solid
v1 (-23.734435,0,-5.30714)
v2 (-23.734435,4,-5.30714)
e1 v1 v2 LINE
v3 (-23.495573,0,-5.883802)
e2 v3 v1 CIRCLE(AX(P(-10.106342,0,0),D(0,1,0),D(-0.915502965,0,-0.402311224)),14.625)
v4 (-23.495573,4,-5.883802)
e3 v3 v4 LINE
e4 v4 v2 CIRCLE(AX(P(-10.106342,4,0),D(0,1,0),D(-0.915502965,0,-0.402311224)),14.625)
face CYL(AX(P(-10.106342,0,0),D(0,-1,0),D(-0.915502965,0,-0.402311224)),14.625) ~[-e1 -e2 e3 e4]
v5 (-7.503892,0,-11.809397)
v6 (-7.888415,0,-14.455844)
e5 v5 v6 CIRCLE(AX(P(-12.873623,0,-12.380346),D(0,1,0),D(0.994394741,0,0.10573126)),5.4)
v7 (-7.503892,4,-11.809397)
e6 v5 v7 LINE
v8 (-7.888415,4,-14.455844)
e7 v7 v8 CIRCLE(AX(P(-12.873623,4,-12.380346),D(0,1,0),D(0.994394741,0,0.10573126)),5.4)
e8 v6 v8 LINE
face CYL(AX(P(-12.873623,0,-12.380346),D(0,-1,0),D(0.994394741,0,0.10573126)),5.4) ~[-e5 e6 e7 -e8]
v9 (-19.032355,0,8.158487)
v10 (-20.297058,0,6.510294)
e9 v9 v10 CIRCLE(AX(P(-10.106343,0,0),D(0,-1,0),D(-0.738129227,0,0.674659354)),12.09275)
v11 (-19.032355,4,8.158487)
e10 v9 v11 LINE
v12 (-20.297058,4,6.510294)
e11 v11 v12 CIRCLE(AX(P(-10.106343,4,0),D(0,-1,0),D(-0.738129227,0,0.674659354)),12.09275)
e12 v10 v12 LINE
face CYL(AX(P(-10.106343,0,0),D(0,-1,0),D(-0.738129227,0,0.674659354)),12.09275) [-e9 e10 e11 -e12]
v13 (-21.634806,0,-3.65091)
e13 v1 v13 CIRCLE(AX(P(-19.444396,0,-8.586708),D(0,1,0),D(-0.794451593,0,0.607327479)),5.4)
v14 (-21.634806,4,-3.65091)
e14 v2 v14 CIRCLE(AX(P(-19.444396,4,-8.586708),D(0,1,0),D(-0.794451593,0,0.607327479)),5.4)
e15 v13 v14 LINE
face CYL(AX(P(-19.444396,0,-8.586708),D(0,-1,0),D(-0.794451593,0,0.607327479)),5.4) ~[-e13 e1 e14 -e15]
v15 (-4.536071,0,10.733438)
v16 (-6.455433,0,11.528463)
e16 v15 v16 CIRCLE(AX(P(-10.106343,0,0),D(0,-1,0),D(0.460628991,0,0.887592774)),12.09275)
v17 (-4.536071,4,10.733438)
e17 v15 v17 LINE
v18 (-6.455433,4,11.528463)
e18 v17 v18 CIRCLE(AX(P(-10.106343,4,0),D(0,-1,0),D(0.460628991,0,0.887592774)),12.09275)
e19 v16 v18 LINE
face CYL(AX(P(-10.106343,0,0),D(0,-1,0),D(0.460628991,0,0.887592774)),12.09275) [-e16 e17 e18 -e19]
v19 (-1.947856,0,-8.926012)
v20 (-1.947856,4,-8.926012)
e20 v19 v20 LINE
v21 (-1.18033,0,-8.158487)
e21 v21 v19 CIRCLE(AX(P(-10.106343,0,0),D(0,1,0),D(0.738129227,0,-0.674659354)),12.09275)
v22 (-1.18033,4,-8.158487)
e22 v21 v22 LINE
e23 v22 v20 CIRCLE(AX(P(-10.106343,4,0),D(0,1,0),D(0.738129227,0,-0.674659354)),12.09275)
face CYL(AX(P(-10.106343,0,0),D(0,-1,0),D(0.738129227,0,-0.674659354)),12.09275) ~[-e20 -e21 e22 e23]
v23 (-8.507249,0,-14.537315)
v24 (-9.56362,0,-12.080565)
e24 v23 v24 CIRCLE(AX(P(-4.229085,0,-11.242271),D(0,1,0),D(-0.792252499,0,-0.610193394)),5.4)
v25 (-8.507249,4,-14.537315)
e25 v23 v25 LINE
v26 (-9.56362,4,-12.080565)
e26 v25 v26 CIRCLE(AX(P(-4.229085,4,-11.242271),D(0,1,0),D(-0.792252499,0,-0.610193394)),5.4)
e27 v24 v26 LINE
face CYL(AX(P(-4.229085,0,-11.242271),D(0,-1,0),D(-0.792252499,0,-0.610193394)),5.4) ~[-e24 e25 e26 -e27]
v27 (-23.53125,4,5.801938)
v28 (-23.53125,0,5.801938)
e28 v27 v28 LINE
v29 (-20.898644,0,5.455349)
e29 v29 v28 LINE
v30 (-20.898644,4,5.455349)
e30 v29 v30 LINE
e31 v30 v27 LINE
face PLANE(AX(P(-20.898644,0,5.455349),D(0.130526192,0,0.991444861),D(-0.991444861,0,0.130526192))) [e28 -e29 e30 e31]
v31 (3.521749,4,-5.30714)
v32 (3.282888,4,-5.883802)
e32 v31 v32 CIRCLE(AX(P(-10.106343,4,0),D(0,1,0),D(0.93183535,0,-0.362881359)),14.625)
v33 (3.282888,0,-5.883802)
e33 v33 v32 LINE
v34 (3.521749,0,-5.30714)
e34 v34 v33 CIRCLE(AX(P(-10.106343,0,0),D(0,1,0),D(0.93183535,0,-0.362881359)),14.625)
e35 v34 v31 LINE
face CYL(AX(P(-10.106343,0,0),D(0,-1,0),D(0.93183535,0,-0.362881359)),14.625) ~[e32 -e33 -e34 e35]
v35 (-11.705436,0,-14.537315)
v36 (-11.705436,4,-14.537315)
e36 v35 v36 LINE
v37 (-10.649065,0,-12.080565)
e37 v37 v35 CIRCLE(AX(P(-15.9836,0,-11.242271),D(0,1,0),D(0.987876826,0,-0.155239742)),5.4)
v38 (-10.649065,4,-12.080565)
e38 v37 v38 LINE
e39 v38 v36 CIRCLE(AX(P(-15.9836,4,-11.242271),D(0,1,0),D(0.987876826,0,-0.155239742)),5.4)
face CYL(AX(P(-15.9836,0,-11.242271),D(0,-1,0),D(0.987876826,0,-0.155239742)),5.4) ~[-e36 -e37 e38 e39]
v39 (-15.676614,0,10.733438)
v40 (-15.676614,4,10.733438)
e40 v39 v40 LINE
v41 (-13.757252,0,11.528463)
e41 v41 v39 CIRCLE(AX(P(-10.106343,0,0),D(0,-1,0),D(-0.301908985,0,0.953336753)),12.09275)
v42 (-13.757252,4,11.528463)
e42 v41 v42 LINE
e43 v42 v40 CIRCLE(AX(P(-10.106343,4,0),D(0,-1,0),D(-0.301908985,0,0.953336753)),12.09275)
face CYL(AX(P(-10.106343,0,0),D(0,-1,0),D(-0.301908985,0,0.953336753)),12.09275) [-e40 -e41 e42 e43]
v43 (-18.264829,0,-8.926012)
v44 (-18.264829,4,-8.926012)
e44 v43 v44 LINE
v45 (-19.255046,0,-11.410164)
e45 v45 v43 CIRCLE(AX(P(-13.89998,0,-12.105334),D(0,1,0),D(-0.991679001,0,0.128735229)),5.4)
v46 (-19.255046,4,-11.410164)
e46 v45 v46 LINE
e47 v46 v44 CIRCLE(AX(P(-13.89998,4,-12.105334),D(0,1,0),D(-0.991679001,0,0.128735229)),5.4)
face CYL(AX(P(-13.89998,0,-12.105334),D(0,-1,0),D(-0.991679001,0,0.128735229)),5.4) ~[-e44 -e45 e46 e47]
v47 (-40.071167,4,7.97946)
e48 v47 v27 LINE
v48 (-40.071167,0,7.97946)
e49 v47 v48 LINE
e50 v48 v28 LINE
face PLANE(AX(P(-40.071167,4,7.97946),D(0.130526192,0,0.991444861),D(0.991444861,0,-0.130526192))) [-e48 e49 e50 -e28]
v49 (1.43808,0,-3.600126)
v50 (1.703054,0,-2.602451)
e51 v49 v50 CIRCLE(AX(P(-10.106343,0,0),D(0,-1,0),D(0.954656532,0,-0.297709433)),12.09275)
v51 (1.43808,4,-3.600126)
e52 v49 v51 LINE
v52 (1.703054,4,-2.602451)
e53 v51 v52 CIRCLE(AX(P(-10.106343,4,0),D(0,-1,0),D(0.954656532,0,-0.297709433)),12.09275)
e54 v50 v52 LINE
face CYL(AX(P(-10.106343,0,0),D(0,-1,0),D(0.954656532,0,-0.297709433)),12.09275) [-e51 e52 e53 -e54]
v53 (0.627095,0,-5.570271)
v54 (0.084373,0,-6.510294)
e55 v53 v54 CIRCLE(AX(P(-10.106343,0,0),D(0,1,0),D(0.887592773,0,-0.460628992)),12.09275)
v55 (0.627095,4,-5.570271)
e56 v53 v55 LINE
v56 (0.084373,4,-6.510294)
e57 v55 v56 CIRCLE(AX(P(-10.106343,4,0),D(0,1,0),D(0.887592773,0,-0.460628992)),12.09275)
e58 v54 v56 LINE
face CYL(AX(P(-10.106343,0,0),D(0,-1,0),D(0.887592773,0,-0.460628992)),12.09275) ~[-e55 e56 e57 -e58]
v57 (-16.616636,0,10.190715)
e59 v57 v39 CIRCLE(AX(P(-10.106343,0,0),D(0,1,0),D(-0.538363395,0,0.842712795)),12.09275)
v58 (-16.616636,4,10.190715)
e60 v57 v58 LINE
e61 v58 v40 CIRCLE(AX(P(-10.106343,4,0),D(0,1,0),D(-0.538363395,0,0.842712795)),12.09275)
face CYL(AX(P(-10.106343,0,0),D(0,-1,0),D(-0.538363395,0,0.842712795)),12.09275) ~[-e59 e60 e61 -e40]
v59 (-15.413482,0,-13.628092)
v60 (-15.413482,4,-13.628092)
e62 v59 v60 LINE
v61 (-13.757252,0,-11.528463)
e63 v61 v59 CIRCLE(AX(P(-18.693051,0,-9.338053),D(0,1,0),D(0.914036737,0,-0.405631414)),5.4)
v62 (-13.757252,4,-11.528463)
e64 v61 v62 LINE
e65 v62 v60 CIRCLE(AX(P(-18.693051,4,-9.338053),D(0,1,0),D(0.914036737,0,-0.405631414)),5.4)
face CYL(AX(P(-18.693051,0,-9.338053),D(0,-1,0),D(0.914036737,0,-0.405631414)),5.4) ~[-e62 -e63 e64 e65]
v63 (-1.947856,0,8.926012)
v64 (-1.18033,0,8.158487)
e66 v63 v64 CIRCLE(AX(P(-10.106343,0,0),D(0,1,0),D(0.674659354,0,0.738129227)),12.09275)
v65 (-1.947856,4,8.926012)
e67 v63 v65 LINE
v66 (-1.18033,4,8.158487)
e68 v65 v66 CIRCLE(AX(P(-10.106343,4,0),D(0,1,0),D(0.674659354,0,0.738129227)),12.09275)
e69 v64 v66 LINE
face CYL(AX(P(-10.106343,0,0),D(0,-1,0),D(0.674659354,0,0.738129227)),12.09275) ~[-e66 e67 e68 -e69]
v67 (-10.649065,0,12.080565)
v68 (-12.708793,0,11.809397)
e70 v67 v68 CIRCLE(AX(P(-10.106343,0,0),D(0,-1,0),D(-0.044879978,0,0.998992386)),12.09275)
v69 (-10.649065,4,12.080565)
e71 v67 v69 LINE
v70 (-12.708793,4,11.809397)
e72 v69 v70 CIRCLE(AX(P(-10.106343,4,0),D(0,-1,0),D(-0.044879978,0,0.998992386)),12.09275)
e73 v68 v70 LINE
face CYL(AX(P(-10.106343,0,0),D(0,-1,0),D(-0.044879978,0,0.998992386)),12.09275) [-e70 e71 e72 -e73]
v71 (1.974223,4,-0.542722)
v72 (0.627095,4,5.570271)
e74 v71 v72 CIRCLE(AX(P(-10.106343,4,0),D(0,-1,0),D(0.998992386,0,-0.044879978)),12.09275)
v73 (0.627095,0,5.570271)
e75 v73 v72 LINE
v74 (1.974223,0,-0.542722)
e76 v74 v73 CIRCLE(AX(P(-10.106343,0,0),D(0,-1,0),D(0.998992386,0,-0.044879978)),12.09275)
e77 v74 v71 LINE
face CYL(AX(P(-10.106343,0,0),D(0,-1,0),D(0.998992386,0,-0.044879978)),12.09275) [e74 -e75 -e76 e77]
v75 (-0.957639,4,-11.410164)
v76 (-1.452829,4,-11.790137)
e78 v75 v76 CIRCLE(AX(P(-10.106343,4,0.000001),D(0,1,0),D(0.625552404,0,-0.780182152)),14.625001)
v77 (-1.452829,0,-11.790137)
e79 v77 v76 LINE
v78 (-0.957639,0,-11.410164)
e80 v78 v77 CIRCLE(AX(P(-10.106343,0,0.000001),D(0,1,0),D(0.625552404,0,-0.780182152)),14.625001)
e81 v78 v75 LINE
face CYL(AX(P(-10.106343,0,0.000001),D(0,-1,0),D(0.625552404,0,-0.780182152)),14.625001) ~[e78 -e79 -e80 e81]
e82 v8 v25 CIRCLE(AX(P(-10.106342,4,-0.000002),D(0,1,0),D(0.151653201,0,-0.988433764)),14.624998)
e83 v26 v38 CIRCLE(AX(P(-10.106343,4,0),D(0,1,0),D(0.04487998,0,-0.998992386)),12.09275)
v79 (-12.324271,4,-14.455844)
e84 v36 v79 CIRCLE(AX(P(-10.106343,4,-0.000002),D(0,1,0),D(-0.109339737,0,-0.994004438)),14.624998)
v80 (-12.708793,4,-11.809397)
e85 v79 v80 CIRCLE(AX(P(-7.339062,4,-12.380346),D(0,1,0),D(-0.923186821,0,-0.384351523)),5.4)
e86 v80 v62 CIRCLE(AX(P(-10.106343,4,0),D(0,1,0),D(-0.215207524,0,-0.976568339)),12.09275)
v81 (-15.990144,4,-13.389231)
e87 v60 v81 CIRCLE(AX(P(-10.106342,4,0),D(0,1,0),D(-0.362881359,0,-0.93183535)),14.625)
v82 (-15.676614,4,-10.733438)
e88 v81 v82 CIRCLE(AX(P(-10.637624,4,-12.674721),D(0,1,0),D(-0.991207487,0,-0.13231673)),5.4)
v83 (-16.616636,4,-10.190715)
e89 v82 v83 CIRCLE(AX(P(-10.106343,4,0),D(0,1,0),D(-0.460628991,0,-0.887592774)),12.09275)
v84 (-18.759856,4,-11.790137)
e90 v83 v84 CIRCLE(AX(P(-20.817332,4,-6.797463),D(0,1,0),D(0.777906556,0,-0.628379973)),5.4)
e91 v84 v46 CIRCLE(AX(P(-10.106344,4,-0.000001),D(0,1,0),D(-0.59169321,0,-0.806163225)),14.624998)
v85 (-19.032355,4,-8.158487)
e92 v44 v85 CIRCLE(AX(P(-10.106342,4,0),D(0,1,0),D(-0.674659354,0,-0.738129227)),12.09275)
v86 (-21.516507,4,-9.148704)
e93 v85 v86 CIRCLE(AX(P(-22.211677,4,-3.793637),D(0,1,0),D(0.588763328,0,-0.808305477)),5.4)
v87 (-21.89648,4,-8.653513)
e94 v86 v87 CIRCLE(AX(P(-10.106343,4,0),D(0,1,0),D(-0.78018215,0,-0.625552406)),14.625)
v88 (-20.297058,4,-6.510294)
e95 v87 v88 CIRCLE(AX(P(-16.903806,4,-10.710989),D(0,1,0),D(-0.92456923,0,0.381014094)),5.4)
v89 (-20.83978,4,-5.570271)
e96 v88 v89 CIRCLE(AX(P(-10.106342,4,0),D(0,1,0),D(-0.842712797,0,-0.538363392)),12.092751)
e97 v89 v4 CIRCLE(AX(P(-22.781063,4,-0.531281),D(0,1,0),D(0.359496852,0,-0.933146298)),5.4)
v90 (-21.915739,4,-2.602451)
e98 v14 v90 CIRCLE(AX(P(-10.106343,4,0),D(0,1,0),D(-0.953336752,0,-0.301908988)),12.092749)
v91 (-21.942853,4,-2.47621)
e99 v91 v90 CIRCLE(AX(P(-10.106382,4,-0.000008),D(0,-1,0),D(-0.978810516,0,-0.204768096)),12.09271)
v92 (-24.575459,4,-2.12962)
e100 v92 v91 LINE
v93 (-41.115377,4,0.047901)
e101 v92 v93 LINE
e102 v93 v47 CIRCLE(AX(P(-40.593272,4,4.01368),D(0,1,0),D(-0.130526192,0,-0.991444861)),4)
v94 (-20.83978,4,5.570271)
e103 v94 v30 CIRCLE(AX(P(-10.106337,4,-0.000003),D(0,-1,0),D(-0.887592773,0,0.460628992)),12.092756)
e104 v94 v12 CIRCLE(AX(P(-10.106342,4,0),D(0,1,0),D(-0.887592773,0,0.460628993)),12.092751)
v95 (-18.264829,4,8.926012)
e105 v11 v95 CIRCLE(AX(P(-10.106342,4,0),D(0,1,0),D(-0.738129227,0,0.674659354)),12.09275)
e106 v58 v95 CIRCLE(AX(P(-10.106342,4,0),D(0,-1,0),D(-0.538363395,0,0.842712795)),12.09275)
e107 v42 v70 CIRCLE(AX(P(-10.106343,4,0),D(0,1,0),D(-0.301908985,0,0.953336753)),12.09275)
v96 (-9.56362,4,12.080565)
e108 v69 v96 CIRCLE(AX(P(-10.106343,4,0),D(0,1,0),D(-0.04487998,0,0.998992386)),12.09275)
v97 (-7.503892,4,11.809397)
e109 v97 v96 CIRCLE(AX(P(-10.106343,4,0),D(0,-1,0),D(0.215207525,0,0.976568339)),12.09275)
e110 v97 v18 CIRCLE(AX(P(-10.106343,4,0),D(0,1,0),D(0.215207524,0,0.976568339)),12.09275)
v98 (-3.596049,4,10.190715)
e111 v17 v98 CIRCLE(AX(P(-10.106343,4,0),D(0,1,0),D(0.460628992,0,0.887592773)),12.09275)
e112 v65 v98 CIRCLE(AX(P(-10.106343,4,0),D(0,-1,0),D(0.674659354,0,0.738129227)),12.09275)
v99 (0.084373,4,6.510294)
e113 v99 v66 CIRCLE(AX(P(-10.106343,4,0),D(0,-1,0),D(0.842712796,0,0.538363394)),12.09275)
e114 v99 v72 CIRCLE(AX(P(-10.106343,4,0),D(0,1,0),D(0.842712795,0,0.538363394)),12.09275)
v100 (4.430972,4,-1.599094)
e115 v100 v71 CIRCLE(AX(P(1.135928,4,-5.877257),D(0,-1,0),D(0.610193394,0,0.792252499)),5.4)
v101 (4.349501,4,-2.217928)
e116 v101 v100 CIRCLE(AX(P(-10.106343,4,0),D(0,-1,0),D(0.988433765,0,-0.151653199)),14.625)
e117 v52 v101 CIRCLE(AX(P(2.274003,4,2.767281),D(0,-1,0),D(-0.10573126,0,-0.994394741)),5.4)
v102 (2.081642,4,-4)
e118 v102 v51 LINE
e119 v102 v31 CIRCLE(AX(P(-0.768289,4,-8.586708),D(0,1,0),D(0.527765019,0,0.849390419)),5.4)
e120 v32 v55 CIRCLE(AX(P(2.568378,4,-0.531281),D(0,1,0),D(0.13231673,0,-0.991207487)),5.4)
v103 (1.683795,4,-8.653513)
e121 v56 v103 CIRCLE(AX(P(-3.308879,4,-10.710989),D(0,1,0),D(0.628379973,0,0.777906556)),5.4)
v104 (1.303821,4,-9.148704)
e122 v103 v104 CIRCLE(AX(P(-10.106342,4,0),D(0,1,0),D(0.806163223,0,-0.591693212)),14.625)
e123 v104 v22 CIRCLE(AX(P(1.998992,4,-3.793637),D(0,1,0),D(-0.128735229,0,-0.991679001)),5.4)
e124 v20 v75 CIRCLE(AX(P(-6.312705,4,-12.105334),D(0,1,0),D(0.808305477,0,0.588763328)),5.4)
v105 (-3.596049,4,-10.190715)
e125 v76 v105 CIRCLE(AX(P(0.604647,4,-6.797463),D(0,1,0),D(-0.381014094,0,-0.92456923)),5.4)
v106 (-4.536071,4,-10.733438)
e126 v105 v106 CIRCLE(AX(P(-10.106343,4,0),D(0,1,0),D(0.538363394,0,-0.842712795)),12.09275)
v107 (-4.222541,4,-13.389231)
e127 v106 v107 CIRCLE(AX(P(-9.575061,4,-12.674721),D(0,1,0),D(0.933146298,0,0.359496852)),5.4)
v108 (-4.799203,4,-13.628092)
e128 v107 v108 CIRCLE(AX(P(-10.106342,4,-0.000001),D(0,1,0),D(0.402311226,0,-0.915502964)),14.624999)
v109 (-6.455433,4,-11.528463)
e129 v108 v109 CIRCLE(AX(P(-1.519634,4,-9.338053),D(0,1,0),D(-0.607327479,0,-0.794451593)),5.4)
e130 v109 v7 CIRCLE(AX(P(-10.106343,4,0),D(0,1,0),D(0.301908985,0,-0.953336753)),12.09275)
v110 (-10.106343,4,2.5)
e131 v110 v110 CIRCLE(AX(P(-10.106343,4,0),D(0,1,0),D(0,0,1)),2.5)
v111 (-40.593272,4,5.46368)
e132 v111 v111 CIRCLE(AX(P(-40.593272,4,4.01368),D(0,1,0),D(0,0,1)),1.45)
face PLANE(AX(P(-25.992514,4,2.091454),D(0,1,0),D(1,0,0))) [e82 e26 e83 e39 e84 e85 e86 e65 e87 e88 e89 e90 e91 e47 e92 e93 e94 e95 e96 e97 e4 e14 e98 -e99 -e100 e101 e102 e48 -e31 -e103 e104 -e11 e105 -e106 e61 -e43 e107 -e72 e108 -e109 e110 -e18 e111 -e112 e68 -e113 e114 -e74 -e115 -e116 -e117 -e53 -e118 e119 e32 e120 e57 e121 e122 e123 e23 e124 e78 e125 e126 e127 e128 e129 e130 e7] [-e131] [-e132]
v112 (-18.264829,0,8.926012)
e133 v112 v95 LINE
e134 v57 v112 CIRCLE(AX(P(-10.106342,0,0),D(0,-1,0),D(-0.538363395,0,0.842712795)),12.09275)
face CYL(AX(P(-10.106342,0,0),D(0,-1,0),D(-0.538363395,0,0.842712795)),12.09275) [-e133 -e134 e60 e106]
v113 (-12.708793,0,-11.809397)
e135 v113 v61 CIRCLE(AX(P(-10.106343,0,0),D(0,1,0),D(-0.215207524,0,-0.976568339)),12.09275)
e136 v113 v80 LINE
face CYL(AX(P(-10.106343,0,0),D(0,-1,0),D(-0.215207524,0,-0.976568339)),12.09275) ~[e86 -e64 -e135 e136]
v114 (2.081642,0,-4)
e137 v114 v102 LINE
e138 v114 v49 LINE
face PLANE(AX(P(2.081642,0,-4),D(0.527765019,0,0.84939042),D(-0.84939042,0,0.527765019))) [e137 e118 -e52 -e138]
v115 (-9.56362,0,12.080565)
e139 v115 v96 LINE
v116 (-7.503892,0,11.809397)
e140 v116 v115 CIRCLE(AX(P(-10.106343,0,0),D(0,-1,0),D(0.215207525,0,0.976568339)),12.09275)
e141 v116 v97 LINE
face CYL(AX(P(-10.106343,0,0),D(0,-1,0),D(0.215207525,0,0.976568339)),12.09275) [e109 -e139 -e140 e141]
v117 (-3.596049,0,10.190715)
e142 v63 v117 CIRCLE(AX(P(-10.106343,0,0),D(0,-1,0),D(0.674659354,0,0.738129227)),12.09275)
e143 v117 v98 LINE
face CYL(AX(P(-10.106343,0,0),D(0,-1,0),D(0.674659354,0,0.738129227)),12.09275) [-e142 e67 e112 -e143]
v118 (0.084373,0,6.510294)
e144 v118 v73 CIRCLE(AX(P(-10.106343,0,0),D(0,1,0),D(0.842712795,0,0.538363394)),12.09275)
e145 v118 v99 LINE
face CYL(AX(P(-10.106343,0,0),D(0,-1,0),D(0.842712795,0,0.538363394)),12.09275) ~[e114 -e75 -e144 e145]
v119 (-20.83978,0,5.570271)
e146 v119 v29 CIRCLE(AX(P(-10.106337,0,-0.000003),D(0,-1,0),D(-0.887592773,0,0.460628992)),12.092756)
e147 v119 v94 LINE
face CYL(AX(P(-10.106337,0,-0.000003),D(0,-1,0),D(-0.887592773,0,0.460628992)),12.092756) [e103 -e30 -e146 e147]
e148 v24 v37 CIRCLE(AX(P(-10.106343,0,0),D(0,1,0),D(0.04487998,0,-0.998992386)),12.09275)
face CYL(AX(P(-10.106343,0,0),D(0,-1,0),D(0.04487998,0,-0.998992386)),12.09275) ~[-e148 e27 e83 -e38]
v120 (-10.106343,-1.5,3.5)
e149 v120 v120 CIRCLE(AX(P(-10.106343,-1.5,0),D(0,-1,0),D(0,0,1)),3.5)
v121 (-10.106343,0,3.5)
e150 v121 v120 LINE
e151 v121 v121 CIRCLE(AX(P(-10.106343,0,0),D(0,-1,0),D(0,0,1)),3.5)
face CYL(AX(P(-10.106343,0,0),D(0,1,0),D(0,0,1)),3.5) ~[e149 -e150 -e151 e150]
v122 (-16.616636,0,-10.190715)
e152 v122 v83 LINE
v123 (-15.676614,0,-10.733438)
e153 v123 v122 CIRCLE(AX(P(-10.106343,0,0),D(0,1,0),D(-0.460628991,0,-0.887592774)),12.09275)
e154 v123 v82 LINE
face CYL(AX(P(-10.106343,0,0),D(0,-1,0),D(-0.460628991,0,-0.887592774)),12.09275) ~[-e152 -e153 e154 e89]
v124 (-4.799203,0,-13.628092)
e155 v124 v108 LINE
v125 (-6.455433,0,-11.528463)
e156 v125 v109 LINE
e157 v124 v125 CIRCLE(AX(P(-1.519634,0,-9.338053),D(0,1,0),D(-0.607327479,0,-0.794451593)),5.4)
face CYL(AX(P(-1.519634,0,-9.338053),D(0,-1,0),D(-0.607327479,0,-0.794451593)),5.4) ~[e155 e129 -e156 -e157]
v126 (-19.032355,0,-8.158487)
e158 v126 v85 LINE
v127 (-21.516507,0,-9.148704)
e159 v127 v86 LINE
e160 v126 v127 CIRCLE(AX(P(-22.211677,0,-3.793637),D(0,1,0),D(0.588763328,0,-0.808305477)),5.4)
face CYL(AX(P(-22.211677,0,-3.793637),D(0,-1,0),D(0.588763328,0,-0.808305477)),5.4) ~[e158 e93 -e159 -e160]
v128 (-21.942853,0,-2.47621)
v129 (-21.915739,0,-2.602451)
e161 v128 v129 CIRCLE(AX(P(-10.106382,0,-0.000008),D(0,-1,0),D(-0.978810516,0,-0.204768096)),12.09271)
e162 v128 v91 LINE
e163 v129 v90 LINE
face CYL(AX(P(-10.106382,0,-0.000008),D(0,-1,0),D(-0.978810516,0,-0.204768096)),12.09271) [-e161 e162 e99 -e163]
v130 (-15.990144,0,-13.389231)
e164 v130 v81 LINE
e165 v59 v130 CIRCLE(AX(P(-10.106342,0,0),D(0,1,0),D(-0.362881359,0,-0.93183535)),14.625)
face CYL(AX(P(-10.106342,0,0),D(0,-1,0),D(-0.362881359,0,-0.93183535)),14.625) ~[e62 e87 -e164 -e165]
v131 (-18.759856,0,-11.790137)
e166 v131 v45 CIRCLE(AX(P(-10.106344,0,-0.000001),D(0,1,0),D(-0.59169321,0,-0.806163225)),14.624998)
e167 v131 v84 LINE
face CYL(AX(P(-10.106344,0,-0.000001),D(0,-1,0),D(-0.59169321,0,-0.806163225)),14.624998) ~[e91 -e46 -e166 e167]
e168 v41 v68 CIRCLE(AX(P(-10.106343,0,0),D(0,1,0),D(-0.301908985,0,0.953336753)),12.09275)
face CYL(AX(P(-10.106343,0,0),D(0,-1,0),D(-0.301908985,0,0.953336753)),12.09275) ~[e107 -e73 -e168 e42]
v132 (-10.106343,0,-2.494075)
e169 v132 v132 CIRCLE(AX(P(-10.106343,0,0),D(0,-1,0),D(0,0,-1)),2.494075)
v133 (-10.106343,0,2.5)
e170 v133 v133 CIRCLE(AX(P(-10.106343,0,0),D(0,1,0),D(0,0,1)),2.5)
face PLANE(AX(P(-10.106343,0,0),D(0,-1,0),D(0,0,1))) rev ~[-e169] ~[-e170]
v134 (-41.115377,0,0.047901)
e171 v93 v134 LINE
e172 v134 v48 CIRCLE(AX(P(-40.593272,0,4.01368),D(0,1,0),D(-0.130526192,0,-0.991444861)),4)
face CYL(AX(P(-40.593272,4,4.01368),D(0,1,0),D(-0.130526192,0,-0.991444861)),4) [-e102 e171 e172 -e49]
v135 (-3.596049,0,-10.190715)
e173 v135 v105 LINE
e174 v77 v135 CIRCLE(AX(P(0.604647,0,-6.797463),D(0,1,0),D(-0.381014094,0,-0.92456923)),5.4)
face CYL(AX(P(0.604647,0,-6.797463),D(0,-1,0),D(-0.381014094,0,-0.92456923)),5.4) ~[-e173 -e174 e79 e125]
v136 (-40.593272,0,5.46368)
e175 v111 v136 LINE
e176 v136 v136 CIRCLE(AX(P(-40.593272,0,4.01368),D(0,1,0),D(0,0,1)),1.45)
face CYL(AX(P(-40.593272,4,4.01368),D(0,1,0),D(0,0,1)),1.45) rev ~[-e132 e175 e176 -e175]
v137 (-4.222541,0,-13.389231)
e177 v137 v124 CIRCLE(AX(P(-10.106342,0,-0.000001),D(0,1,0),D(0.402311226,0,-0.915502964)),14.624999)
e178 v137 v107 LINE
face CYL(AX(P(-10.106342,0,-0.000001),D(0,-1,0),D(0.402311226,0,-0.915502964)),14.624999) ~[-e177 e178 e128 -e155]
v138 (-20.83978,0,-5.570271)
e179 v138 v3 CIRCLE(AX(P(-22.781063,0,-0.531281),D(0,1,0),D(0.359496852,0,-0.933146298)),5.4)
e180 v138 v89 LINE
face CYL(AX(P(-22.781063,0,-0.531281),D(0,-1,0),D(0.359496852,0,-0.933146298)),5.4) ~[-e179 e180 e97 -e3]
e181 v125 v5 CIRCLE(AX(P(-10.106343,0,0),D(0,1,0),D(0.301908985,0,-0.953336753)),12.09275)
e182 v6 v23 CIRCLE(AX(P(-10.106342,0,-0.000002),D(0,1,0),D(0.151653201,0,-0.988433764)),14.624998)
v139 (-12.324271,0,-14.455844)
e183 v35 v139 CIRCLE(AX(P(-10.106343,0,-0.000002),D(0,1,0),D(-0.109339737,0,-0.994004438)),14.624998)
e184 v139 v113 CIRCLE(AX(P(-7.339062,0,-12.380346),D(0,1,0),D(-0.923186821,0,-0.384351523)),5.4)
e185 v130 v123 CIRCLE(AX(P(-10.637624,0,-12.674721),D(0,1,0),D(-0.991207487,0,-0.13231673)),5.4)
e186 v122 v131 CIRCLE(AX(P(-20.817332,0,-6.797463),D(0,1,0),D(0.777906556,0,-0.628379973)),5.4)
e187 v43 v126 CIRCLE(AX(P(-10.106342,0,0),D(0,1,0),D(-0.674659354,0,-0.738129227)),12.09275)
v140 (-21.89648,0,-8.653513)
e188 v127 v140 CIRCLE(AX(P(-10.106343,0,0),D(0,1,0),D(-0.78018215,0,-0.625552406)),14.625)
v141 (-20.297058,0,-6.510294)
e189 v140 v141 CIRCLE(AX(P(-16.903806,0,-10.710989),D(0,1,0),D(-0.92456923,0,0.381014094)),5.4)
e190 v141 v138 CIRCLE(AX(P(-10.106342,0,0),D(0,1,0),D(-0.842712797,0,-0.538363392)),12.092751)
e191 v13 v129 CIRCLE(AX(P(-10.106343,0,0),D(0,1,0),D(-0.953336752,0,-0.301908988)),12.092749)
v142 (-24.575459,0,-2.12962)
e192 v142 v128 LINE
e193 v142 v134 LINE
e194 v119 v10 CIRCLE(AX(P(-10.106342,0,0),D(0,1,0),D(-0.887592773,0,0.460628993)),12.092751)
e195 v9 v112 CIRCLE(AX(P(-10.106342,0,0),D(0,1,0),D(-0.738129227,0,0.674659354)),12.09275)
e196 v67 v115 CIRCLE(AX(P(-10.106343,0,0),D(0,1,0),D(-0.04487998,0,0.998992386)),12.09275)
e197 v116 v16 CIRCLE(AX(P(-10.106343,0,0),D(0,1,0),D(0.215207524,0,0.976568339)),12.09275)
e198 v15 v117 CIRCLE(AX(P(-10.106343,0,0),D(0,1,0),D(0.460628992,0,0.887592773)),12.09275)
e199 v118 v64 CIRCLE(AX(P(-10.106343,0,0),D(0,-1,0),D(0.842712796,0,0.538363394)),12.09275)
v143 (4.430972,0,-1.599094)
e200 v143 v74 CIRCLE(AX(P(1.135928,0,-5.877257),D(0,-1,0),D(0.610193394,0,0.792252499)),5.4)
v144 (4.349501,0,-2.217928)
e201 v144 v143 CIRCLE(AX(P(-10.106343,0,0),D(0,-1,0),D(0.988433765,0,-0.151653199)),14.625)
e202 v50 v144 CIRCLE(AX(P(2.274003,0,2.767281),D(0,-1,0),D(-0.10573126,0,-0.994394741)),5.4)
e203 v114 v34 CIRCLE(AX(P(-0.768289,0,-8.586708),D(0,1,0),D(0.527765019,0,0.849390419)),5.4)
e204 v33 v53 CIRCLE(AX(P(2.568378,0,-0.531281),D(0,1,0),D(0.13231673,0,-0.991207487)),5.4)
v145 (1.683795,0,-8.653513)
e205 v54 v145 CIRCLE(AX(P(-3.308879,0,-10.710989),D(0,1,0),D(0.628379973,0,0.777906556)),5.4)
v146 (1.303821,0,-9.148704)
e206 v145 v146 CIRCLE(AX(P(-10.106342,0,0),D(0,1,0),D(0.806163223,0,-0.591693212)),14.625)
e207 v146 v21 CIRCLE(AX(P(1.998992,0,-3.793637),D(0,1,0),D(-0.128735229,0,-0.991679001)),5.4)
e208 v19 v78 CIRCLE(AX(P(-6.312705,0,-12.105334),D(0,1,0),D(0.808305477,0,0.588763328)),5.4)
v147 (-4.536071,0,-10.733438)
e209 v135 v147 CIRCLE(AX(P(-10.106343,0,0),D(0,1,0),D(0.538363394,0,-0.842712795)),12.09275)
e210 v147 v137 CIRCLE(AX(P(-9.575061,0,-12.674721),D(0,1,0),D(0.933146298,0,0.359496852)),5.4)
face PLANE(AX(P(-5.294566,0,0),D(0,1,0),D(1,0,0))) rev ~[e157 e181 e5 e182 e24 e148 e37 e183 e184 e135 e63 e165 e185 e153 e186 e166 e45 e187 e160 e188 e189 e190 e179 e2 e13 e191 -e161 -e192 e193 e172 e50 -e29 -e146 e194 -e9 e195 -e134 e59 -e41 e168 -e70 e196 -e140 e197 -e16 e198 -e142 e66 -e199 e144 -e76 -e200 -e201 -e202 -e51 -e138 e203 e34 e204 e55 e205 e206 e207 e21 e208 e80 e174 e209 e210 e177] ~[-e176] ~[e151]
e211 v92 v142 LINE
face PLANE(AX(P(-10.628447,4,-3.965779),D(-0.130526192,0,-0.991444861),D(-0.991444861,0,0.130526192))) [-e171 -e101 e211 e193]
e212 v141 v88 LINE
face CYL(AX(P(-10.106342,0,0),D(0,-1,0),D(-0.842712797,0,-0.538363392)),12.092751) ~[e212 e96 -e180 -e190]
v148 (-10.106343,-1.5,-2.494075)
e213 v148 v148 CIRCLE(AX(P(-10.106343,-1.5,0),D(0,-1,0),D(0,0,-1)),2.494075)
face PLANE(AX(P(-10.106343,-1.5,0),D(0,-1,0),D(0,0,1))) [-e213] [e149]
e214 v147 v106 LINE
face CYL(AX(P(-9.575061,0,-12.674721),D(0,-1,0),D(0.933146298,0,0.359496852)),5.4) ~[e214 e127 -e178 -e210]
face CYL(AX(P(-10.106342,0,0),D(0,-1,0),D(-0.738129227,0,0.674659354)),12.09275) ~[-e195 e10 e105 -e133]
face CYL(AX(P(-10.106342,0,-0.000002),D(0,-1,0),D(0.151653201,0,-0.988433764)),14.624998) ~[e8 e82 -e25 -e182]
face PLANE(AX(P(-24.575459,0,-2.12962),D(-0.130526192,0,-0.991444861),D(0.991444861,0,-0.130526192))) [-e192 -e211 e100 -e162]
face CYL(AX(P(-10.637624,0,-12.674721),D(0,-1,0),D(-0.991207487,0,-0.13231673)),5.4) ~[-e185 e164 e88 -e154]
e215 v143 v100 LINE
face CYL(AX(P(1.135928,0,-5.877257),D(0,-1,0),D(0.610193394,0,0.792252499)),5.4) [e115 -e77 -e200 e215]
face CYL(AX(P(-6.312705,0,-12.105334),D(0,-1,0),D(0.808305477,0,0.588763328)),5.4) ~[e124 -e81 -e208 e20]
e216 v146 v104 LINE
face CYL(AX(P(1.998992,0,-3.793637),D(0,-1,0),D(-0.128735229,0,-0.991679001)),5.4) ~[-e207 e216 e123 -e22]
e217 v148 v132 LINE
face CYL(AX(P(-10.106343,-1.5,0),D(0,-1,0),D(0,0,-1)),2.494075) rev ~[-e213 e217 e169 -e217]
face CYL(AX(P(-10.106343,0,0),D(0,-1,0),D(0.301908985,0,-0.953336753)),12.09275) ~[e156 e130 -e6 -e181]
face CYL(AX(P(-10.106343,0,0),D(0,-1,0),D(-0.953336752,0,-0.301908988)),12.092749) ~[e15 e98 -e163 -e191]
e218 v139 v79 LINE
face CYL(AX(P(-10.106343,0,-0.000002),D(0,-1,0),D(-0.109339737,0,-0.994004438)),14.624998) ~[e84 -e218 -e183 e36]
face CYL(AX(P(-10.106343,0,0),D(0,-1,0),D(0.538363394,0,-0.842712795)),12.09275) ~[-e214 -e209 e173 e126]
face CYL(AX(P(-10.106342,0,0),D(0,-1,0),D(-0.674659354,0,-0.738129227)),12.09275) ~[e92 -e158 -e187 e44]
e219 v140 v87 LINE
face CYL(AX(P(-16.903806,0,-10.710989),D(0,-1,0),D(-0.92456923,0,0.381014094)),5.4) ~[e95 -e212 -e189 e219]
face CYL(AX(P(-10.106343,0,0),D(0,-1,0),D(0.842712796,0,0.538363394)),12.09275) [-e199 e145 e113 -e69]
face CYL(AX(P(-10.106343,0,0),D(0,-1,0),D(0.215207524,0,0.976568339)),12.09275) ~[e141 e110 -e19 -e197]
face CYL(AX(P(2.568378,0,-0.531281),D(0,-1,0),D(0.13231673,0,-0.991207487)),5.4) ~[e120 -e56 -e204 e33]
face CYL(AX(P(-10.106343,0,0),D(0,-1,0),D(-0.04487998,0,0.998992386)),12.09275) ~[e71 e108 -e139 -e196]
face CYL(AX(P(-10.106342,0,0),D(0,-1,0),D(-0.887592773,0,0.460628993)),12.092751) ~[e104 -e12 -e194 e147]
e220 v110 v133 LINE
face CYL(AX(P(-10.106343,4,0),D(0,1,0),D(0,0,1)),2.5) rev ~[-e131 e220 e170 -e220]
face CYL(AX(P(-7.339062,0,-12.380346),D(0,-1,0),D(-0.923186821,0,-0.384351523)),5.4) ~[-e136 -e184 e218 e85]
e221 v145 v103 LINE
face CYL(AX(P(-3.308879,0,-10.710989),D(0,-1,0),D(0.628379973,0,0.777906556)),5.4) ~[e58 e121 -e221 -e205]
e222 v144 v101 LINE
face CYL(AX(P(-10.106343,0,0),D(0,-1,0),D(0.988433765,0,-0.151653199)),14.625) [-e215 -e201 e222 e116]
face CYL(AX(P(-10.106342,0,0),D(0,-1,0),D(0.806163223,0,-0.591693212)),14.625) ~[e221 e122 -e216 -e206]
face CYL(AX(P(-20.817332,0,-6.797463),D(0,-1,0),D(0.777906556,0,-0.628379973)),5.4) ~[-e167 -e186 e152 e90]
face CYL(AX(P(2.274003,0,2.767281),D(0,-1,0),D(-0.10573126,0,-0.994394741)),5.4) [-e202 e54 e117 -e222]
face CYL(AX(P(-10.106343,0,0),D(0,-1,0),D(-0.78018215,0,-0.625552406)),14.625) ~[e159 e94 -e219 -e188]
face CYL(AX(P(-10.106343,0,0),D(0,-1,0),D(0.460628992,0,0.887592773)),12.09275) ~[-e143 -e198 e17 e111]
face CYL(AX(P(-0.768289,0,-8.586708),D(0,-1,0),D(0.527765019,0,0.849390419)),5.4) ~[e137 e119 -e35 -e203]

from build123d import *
from build123d.topology import SkipClean

# Parameters (mm, degrees)
SKETCH1_R           = 1.5
BOSS_EXTRUDE1_DEPTH = 4
SKETCH3_R           = 1.45
BOSS_EXTRUDE2_DEPTH = 4
CUT_EXTRUDE1_START  = -4
CUT_EXTRUDE1_DEPTH  = 4
CUT_EXTRUDE2_REACH  = 49.073
SKETCH5_R           = 2.5
SKETCH6_R           = 3.5
BOSS_EXTRUDE3_DEPTH = 1.5
SKETCH7_R           = 2.494074769
CUT_EXTRUDE3_DEPTH  = 48.224394497


with BuildPart() as part:
    # Sketch1 → Boss-Extrude1 (new body)
    with BuildSketch(Plane(origin=(0, 0, 0), x_dir=(1, 0, 0), z_dir=(0, 1, 0))):
        with BuildLine():
            Line((20.643657446, 4), (2.081641936, 4))
            ThreePointArc((2.081641936, 4), (2.861028333, 4.588201733), (3.521749436, 5.30713988))
            ThreePointArc((3.521749436, 5.30713988), (3.405395609, 5.596745198), (3.282888305, 5.883801663))
            ThreePointArc((3.282888305, 5.883801663), (1.93527598, 5.894040025), (0.627094961, 5.57027124))
            ThreePointArc((0.627094961, 5.57027124), (0.366286148, 6.046375), (0.084372603, 6.510293938))
            ThreePointArc((0.084372603, 6.510293938), (1.018855105, 7.48132754), (1.683794586, 8.65351323))
            ThreePointArc((1.683794586, 8.65351323), (1.496450048, 8.903135899), (1.303821399, 9.148703928))
            ThreePointArc((1.303821399, 9.148703928), (-0.000522033, 8.809805691), (-1.180330337, 8.158486898))
            ThreePointArc((-1.180330337, 8.158486898), (-1.555477026, 8.550865528), (-1.947855656, 8.926012217))
            ThreePointArc((-1.947855656, 8.926012217), (-1.296536862, 10.105820521), (-0.957638625, 11.410163953))
            ThreePointArc((-0.957638625, 11.410163953), (-1.203206655, 11.602792602), (-1.452829324, 11.79013714))
            ThreePointArc((-1.452829324, 11.79013714), (-2.625015014, 11.125197659), (-3.596048616, 10.190715157))
            ThreePointArc((-3.596048616, 10.190715157), (-4.059967554, 10.472628702), (-4.536071314, 10.733437515))
            ThreePointArc((-4.536071314, 10.733437515), (-4.212302529, 12.041618533), (-4.222540891, 13.389230859))
            ThreePointArc((-4.222540891, 13.389230859), (-4.509597355, 13.511738163), (-4.799202674, 13.62809199))
            ThreePointArc((-4.799202674, 13.62809199), (-5.759348103, 12.682425791), (-6.455432668, 11.528463019))
            ThreePointArc((-6.455432668, 11.528463019), (-6.976508546, 11.680699536), (-7.503891752, 11.809396783))
            ThreePointArc((-7.503891752, 11.809396783), (-7.529737283, 13.156800143), (-7.888414517, 14.455843809))
            ThreePointArc((-7.888414517, 14.455843809), (-8.197396993, 14.499881098), (-8.507248835, 14.537314892))
            ThreePointArc((-8.507248835, 14.537314892), (-9.18992168, 13.375367565), (-9.563620196, 12.080565177))
            ThreePointArc((-9.563620196, 12.080565177), (-10.106342554, 12.09275), (-10.649064912, 12.080565177))
            ThreePointArc((-10.649064912, 12.080565177), (-11.022763428, 13.375367565), (-11.705436272, 14.537314892))
            ThreePointArc((-11.705436272, 14.537314892), (-12.015288115, 14.499881098), (-12.324270591, 14.455843809))
            ThreePointArc((-12.324270591, 14.455843809), (-12.682947825, 13.156800143), (-12.708793355, 11.809396783))
            ThreePointArc((-12.708793355, 11.809396783), (-13.236176561, 11.680699536), (-13.757252439, 11.528463019))
            ThreePointArc((-13.757252439, 11.528463019), (-14.453337005, 12.682425791), (-15.413482434, 13.62809199))
            ThreePointArc((-15.413482434, 13.62809199), (-15.703087752, 13.511738163), (-15.990144217, 13.389230859))
            ThreePointArc((-15.990144217, 13.389230859), (-16.000382579, 12.041618533), (-15.676613793, 10.733437515))
            ThreePointArc((-15.676613793, 10.733437515), (-16.152717554, 10.472628702), (-16.616636492, 10.190715157))
            ThreePointArc((-16.616636492, 10.190715157), (-17.587670094, 11.125197659), (-18.759855783, 11.79013714))
            ThreePointArc((-18.759855783, 11.79013714), (-19.009478453, 11.602792602), (-19.255046482, 11.410163953))
            ThreePointArc((-19.255046482, 11.410163953), (-18.916148245, 10.105820521), (-18.264829452, 8.926012217))
            ThreePointArc((-18.264829452, 8.926012217), (-18.657208082, 8.550865528), (-19.032354771, 8.158486898))
            ThreePointArc((-19.032354771, 8.158486898), (-20.212163074, 8.809805691), (-21.516506507, 9.148703928))
            ThreePointArc((-21.516506507, 9.148703928), (-21.709135156, 8.903135899), (-21.896479694, 8.65351323))
            ThreePointArc((-21.896479694, 8.65351323), (-21.231540213, 7.48132754), (-20.297057711, 6.510293938))
            ThreePointArc((-20.297057711, 6.510293938), (-20.578971255, 6.046375), (-20.839780068, 5.57027124))
            ThreePointArc((-20.839780068, 5.57027124), (-22.147961087, 5.894040025), (-23.495573413, 5.883801663))
            ThreePointArc((-23.495573413, 5.883801663), (-23.618080717, 5.596745198), (-23.734434544, 5.30713988))
            ThreePointArc((-23.734434544, 5.30713988), (-22.788768345, 4.346994451), (-21.634805572, 3.650909885))
            ThreePointArc((-21.634805572, 3.650909885), (-21.78704209, 3.129834008), (-21.915739337, 2.602450802))
            ThreePointArc((-21.915739337, 2.602450802), (-23.263142697, 2.576605271), (-24.562186363, 2.217928037))
            ThreePointArc((-24.562186363, 2.217928037), (-24.606223651, 1.908945561), (-24.643657446, 1.599093719))
            ThreePointArc((-24.643657446, 1.599093719), (-23.481710119, 0.916420874), (-22.186907731, 0.542722358))
            ThreePointArc((-22.186907731, 0.542722358), (-22.199092554, 0), (-22.186907731, -0.542722358))
            ThreePointArc((-22.186907731, -0.542722358), (-23.481710119, -0.916420874), (-24.643657446, -1.599093719))
            ThreePointArc((-24.643657446, -1.599093719), (-24.606223651, -1.908945561), (-24.562186363, -2.217928037))
            ThreePointArc((-24.562186363, -2.217928037), (-23.263142697, -2.576605271), (-21.915739337, -2.602450802))
            ThreePointArc((-21.915739337, -2.602450802), (-21.78704209, -3.129834008), (-21.634805572, -3.650909885))
            ThreePointArc((-21.634805572, -3.650909885), (-22.788768345, -4.346994451), (-23.734434544, -5.30713988))
            ThreePointArc((-23.734434544, -5.30713988), (-23.618080717, -5.596745198), (-23.495573413, -5.883801663))
            ThreePointArc((-23.495573413, -5.883801663), (-22.147961087, -5.894040025), (-20.839780068, -5.57027124))
            ThreePointArc((-20.839780068, -5.57027124), (-20.578971255, -6.046375), (-20.297057711, -6.510293938))
            ThreePointArc((-20.297057711, -6.510293938), (-21.231540213, -7.48132754), (-21.896479694, -8.65351323))
            ThreePointArc((-21.896479694, -8.65351323), (-21.709135156, -8.903135899), (-21.516506507, -9.148703928))
            ThreePointArc((-21.516506507, -9.148703928), (-20.212163074, -8.809805691), (-19.032354771, -8.158486898))
            ThreePointArc((-19.032354771, -8.158486898), (-18.657208082, -8.550865528), (-18.264829452, -8.926012217))
            ThreePointArc((-18.264829452, -8.926012217), (-18.916148245, -10.105820521), (-19.255046482, -11.410163953))
            ThreePointArc((-19.255046482, -11.410163953), (-19.009478453, -11.602792602), (-18.759855783, -11.79013714))
            ThreePointArc((-18.759855783, -11.79013714), (-17.587670094, -11.125197659), (-16.616636492, -10.190715157))
            ThreePointArc((-16.616636492, -10.190715157), (-16.152717554, -10.472628702), (-15.676613793, -10.733437515))
            ThreePointArc((-15.676613793, -10.733437515), (-16.000382579, -12.041618533), (-15.990144217, -13.389230859))
            ThreePointArc((-15.990144217, -13.389230859), (-15.703087752, -13.511738163), (-15.413482434, -13.62809199))
            ThreePointArc((-15.413482434, -13.62809199), (-14.453337005, -12.682425791), (-13.757252439, -11.528463019))
            ThreePointArc((-13.757252439, -11.528463019), (-13.236176561, -11.680699536), (-12.708793355, -11.809396783))
            ThreePointArc((-12.708793355, -11.809396783), (-12.682947825, -13.156800143), (-12.324270591, -14.455843809))
            ThreePointArc((-12.324270591, -14.455843809), (-12.015288115, -14.499881098), (-11.705436272, -14.537314892))
            ThreePointArc((-11.705436272, -14.537314892), (-11.022763428, -13.375367565), (-10.649064912, -12.080565177))
            ThreePointArc((-10.649064912, -12.080565177), (-10.106342554, -12.09275), (-9.563620196, -12.080565177))
            ThreePointArc((-9.563620196, -12.080565177), (-9.18992168, -13.375367565), (-8.507248835, -14.537314892))
            ThreePointArc((-8.507248835, -14.537314892), (-8.197396993, -14.499881098), (-7.888414517, -14.455843809))
            ThreePointArc((-7.888414517, -14.455843809), (-7.529737283, -13.156800143), (-7.503891752, -11.809396783))
            ThreePointArc((-7.503891752, -11.809396783), (-6.976508546, -11.680699536), (-6.455432668, -11.528463019))
            ThreePointArc((-6.455432668, -11.528463019), (-5.759348103, -12.682425791), (-4.799202674, -13.62809199))
            ThreePointArc((-4.799202674, -13.62809199), (-4.509597355, -13.511738163), (-4.222540891, -13.389230859))
            ThreePointArc((-4.222540891, -13.389230859), (-4.212302529, -12.041618533), (-4.536071314, -10.733437515))
            ThreePointArc((-4.536071314, -10.733437515), (-4.059967554, -10.472628702), (-3.596048616, -10.190715157))
            ThreePointArc((-3.596048616, -10.190715157), (-2.625015014, -11.125197659), (-1.452829324, -11.79013714))
            ThreePointArc((-1.452829324, -11.79013714), (-1.203206655, -11.602792602), (-0.957638625, -11.410163953))
            ThreePointArc((-0.957638625, -11.410163953), (-1.296536862, -10.105820521), (-1.947855656, -8.926012217))
            ThreePointArc((-1.947855656, -8.926012217), (-1.555477026, -8.550865528), (-1.180330337, -8.158486898))
            ThreePointArc((-1.180330337, -8.158486898), (-0.000522033, -8.809805691), (1.303821399, -9.148703928))
            ThreePointArc((1.303821399, -9.148703928), (1.496450048, -8.903135899), (1.683794586, -8.65351323))
            ThreePointArc((1.683794586, -8.65351323), (1.018855105, -7.48132754), (0.084372603, -6.510293938))
            ThreePointArc((0.084372603, -6.510293938), (0.366286148, -6.046375), (0.627094961, -5.57027124))
            ThreePointArc((0.627094961, -5.57027124), (1.93527598, -5.894040025), (3.282888305, -5.883801663))
            ThreePointArc((3.282888305, -5.883801663), (3.405395609, -5.596745198), (3.521749436, -5.30713988))
            ThreePointArc((3.521749436, -5.30713988), (2.861028333, -4.588201733), (2.081641936, -4))
            Line((2.081641936, -4), (20.643657446, -4))
            ThreePointArc((20.643657446, -4), (24.643657446, 0), (20.643657446, 4))
        make_face()
        with Locations(Location((-10.106342554, 0, 0), (0, 0, 270))):
            Circle(SKETCH1_R, mode=Mode.SUBTRACT)
        with Locations(Location((20.643657446, 0, 0), (0, 0, 270))):
            Circle(SKETCH1_R, mode=Mode.SUBTRACT)
    extrude(amount=BOSS_EXTRUDE1_DEPTH)

    # Sketch3 → Boss-Extrude2 (add)
    with BuildSketch(Plane(origin=(0, 4, 0), x_dir=(1, 0, 0), z_dir=(0, 1, 0))):
        with BuildLine():
            ThreePointArc((-9.584237785, -3.965779445), (-14.072121999, -0.522104769), (-10.628447323, 3.965779445))
            Line((-10.628447323, 3.965779445), (-41.11537681, -0.047900965))
            ThreePointArc((-41.11537681, -0.047900965), (-44.559051487, -4.53578518), (-40.071167272, -7.979459856))
            Line((-40.071167272, -7.979459856), (-9.584237785, -3.965779445))
        make_face()
        with Locations(Location((-40.593272041, -4.013680411, 0), (0, 0, 270))):
            Circle(SKETCH3_R, mode=Mode.SUBTRACT)
    extrude(amount=-BOSS_EXTRUDE2_DEPTH)

    # Sketch4 → Cut-Extrude1 (cut)
    with SkipClean():  # the faces are left unmerged after this step: merging them gives an invalid solid
        with BuildSketch(Plane(origin=(0, 4, 0), x_dir=(1, 0, 0), z_dir=(0, 1, 0)).offset(CUT_EXTRUDE1_START)):
            with BuildLine():
                ThreePointArc((20.643657446, -4), (24.643657446, 0), (20.643657446, 4))
                Line((20.643657446, 4), (2.081641936, 4))
                Line((2.081641936, 4), (1.43808022, 3.600125745))
                ThreePointArc((1.43808022, 3.600125745), (1.581217534, 3.104116905), (1.70305423, 2.602450802))
                ThreePointArc((1.70305423, 2.602450802), (3.050457589, 2.576605271), (4.349501255, 2.217928037))
                ThreePointArc((4.349501255, 2.217928037), (4.393538544, 1.908945561), (4.430972339, 1.599093719))
                ThreePointArc((4.430972339, 1.599093719), (3.269025011, 0.916420874), (1.974222624, 0.542722358))
                ThreePointArc((1.974222624, 0.542722358), (1.70305423, -2.602450802), (0.627094961, -5.57027124))
                ThreePointArc((0.627094961, -5.57027124), (1.93527598, -5.894040025), (3.282888305, -5.883801663))
                ThreePointArc((3.282888305, -5.883801663), (3.405395609, -5.596745198), (3.521749436, -5.30713988))
                ThreePointArc((3.521749436, -5.30713988), (2.861028333, -4.588201733), (2.081641936, -4))
                Line((2.081641936, -4), (20.643657446, -4))
            make_face()
            with BuildLine():
                ThreePointArc((1.683794586, -8.65351323), (1.018855105, -7.48132754), (0.084372603, -6.510293938))
                ThreePointArc((0.084372603, -6.510293938), (-0.512518948, -7.361599771), (-1.180330337, -8.158486898))
                ThreePointArc((-1.180330337, -8.158486898), (-0.000522033, -8.809805691), (1.303821399, -9.148703928))
                ThreePointArc((1.303821399, -9.148703928), (1.496450048, -8.903135899), (1.683794586, -8.65351323))
            make_face()
            with BuildLine():
                ThreePointArc((-0.957638625, -11.410163953), (-1.296536862, -10.105820521), (-1.947855656, -8.926012217))
                ThreePointArc((-1.947855656, -8.926012217), (-2.744742783, -9.593823606), (-3.596048616, -10.190715157))
                ThreePointArc((-3.596048616, -10.190715157), (-2.625015014, -11.125197659), (-1.452829324, -11.79013714))
                ThreePointArc((-1.452829324, -11.79013714), (-1.203206655, -11.602792602), (-0.957638625, -11.410163953))
            make_face()
            with BuildLine():
                ThreePointArc((-4.222540891, -13.389230859), (-4.212302529, -12.041618533), (-4.536071314, -10.733437515))
                ThreePointArc((-4.536071314, -10.733437515), (-5.478647477, -11.172244217), (-6.455432668, -11.528463019))
                ThreePointArc((-6.455432668, -11.528463019), (-5.759348103, -12.682425791), (-4.799202674, -13.62809199))
                ThreePointArc((-4.799202674, -13.62809199), (-4.509597355, -13.511738163), (-4.222540891, -13.389230859))
            make_face()
            with BuildLine():
                ThreePointArc((-7.888414517, -14.455843809), (-7.529737283, -13.156800143), (-7.503891752, -11.809396783))
                ThreePointArc((-7.503891752, -11.809396783), (-8.527921943, -11.989294847), (-9.563620196, -12.080565177))
                ThreePointArc((-9.563620196, -12.080565177), (-9.18992168, -13.375367565), (-8.507248835, -14.537314892))
                ThreePointArc((-8.507248835, -14.537314892), (-8.197396993, -14.499881098), (-7.888414517, -14.455843809))
            make_face()
            with BuildLine():
                ThreePointArc((-11.705436272, -14.537314892), (-11.022763428, -13.375367565), (-10.649064912, -12.080565177))
                ThreePointArc((-10.649064912, -12.080565177), (-11.684763165, -11.989294847), (-12.708793355, -11.809396783))
                ThreePointArc((-12.708793355, -11.809396783), (-12.682947825, -13.156800143), (-12.324270591, -14.455843809))
                ThreePointArc((-12.324270591, -14.455843809), (-12.015288115, -14.499881098), (-11.705436272, -14.537314892))
            make_face()
            with BuildLine():
                ThreePointArc((-15.413482434, -13.62809199), (-14.453337005, -12.682425791), (-13.757252439, -11.528463019))
                ThreePointArc((-13.757252439, -11.528463019), (-14.734037631, -11.172244217), (-15.676613793, -10.733437515))
                ThreePointArc((-15.676613793, -10.733437515), (-16.000382579, -12.041618533), (-15.990144217, -13.389230859))
                ThreePointArc((-15.990144217, -13.389230859), (-15.703087752, -13.511738163), (-15.413482434, -13.62809199))
            make_face()
            with BuildLine():
                ThreePointArc((-18.759855783, -11.79013714), (-17.587670094, -11.125197659), (-16.616636492, -10.190715157))
                ThreePointArc((-16.616636492, -10.190715157), (-17.467942324, -9.593823606), (-18.264829452, -8.926012217))
                ThreePointArc((-18.264829452, -8.926012217), (-18.916148245, -10.105820521), (-19.255046482, -11.410163953))
                ThreePointArc((-19.255046482, -11.410163953), (-19.009478453, -11.602792602), (-18.759855783, -11.79013714))
            make_face()
            with BuildLine():
                ThreePointArc((-21.516506507, -9.148703928), (-20.212163074, -8.809805691), (-19.032354771, -8.158486898))
                ThreePointArc((-19.032354771, -8.158486898), (-19.70016616, -7.361599771), (-20.297057711, -6.510293938))
                ThreePointArc((-20.297057711, -6.510293938), (-21.231540213, -7.48132754), (-21.896479694, -8.65351323))
                ThreePointArc((-21.896479694, -8.65351323), (-21.709135156, -8.903135899), (-21.516506507, -9.148703928))
            make_face()
            with BuildLine():
                ThreePointArc((-21.942853375, 2.47620963), (-21.92946485, 2.539366405), (-21.915739337, 2.602450802))
                ThreePointArc((-21.915739337, 2.602450802), (-23.263142697, 2.576605271), (-24.562186363, 2.217928037))
                ThreePointArc((-24.562186363, 2.217928037), (-24.56889027, 2.173784387), (-24.575459377, 2.129620475))
                Line((-24.575459377, 2.129620475), (-21.942853375, 2.47620963))
            make_face()
            with BuildLine():
                ThreePointArc((-23.495573413, -5.883801663), (-22.147961087, -5.894040025), (-20.839780068, -5.57027124))
                ThreePointArc((-20.839780068, -5.57027124), (-20.869365339, -5.512888815), (-20.898643838, -5.455349261))
                Line((-20.898643838, -5.455349261), (-23.531249839, -5.801938416))
                ThreePointArc((-23.531249839, -5.801938416), (-23.513474108, -5.842897269), (-23.495573413, -5.883801663))
            make_face()
        extrude(amount=CUT_EXTRUDE1_DEPTH, mode=Mode.SUBTRACT)

    # Sketch5 → Cut-Extrude2 (cut, up to next)
    with BuildSketch(Plane(origin=(0, 4, 0), x_dir=(1, 0, 0), z_dir=(0, 1, 0)), mode=Mode.PRIVATE) as cut_extrude2_sk1:
        with Locations(Location((-10.106342554, 0, 0), (0, 0, 270))):
            Circle(SKETCH5_R)
    cut_extrude2_tool1 = extrude(cut_extrude2_sk1.sketch, amount=-CUT_EXTRUDE2_REACH, mode=Mode.PRIVATE) & part.part
    add(cut_extrude2_tool1.solids().sort_by_distance((-10.106343, 4, 0))[0], mode=Mode.SUBTRACT)

    # Sketch6 → Boss-Extrude3 (add)
    with SkipClean():  # the faces are left unmerged after this step: merging them gives an invalid solid
        with BuildSketch(Plane(origin=(0, 0, 0), x_dir=(-1, 0, 0), z_dir=(0, -1, 0))):
            with Locations(Location((10.106342554, 0, 0), (0, 0, 270))):
                Circle(SKETCH6_R)
        extrude(amount=BOSS_EXTRUDE3_DEPTH)

    # Sketch7 → Cut-Extrude3 (cut, through all)
    with SkipClean():  # the faces are left unmerged after this step: merging them gives an invalid solid
        with BuildSketch(Plane.XZ.offset(1.5)):
            with Locations(Location((-10.106342554, 0, 0), (0, 0, 270))):
                Circle(SKETCH7_R)
        extrude(amount=-CUT_EXTRUDE3_DEPTH, mode=Mode.SUBTRACT)


solid = part.part
